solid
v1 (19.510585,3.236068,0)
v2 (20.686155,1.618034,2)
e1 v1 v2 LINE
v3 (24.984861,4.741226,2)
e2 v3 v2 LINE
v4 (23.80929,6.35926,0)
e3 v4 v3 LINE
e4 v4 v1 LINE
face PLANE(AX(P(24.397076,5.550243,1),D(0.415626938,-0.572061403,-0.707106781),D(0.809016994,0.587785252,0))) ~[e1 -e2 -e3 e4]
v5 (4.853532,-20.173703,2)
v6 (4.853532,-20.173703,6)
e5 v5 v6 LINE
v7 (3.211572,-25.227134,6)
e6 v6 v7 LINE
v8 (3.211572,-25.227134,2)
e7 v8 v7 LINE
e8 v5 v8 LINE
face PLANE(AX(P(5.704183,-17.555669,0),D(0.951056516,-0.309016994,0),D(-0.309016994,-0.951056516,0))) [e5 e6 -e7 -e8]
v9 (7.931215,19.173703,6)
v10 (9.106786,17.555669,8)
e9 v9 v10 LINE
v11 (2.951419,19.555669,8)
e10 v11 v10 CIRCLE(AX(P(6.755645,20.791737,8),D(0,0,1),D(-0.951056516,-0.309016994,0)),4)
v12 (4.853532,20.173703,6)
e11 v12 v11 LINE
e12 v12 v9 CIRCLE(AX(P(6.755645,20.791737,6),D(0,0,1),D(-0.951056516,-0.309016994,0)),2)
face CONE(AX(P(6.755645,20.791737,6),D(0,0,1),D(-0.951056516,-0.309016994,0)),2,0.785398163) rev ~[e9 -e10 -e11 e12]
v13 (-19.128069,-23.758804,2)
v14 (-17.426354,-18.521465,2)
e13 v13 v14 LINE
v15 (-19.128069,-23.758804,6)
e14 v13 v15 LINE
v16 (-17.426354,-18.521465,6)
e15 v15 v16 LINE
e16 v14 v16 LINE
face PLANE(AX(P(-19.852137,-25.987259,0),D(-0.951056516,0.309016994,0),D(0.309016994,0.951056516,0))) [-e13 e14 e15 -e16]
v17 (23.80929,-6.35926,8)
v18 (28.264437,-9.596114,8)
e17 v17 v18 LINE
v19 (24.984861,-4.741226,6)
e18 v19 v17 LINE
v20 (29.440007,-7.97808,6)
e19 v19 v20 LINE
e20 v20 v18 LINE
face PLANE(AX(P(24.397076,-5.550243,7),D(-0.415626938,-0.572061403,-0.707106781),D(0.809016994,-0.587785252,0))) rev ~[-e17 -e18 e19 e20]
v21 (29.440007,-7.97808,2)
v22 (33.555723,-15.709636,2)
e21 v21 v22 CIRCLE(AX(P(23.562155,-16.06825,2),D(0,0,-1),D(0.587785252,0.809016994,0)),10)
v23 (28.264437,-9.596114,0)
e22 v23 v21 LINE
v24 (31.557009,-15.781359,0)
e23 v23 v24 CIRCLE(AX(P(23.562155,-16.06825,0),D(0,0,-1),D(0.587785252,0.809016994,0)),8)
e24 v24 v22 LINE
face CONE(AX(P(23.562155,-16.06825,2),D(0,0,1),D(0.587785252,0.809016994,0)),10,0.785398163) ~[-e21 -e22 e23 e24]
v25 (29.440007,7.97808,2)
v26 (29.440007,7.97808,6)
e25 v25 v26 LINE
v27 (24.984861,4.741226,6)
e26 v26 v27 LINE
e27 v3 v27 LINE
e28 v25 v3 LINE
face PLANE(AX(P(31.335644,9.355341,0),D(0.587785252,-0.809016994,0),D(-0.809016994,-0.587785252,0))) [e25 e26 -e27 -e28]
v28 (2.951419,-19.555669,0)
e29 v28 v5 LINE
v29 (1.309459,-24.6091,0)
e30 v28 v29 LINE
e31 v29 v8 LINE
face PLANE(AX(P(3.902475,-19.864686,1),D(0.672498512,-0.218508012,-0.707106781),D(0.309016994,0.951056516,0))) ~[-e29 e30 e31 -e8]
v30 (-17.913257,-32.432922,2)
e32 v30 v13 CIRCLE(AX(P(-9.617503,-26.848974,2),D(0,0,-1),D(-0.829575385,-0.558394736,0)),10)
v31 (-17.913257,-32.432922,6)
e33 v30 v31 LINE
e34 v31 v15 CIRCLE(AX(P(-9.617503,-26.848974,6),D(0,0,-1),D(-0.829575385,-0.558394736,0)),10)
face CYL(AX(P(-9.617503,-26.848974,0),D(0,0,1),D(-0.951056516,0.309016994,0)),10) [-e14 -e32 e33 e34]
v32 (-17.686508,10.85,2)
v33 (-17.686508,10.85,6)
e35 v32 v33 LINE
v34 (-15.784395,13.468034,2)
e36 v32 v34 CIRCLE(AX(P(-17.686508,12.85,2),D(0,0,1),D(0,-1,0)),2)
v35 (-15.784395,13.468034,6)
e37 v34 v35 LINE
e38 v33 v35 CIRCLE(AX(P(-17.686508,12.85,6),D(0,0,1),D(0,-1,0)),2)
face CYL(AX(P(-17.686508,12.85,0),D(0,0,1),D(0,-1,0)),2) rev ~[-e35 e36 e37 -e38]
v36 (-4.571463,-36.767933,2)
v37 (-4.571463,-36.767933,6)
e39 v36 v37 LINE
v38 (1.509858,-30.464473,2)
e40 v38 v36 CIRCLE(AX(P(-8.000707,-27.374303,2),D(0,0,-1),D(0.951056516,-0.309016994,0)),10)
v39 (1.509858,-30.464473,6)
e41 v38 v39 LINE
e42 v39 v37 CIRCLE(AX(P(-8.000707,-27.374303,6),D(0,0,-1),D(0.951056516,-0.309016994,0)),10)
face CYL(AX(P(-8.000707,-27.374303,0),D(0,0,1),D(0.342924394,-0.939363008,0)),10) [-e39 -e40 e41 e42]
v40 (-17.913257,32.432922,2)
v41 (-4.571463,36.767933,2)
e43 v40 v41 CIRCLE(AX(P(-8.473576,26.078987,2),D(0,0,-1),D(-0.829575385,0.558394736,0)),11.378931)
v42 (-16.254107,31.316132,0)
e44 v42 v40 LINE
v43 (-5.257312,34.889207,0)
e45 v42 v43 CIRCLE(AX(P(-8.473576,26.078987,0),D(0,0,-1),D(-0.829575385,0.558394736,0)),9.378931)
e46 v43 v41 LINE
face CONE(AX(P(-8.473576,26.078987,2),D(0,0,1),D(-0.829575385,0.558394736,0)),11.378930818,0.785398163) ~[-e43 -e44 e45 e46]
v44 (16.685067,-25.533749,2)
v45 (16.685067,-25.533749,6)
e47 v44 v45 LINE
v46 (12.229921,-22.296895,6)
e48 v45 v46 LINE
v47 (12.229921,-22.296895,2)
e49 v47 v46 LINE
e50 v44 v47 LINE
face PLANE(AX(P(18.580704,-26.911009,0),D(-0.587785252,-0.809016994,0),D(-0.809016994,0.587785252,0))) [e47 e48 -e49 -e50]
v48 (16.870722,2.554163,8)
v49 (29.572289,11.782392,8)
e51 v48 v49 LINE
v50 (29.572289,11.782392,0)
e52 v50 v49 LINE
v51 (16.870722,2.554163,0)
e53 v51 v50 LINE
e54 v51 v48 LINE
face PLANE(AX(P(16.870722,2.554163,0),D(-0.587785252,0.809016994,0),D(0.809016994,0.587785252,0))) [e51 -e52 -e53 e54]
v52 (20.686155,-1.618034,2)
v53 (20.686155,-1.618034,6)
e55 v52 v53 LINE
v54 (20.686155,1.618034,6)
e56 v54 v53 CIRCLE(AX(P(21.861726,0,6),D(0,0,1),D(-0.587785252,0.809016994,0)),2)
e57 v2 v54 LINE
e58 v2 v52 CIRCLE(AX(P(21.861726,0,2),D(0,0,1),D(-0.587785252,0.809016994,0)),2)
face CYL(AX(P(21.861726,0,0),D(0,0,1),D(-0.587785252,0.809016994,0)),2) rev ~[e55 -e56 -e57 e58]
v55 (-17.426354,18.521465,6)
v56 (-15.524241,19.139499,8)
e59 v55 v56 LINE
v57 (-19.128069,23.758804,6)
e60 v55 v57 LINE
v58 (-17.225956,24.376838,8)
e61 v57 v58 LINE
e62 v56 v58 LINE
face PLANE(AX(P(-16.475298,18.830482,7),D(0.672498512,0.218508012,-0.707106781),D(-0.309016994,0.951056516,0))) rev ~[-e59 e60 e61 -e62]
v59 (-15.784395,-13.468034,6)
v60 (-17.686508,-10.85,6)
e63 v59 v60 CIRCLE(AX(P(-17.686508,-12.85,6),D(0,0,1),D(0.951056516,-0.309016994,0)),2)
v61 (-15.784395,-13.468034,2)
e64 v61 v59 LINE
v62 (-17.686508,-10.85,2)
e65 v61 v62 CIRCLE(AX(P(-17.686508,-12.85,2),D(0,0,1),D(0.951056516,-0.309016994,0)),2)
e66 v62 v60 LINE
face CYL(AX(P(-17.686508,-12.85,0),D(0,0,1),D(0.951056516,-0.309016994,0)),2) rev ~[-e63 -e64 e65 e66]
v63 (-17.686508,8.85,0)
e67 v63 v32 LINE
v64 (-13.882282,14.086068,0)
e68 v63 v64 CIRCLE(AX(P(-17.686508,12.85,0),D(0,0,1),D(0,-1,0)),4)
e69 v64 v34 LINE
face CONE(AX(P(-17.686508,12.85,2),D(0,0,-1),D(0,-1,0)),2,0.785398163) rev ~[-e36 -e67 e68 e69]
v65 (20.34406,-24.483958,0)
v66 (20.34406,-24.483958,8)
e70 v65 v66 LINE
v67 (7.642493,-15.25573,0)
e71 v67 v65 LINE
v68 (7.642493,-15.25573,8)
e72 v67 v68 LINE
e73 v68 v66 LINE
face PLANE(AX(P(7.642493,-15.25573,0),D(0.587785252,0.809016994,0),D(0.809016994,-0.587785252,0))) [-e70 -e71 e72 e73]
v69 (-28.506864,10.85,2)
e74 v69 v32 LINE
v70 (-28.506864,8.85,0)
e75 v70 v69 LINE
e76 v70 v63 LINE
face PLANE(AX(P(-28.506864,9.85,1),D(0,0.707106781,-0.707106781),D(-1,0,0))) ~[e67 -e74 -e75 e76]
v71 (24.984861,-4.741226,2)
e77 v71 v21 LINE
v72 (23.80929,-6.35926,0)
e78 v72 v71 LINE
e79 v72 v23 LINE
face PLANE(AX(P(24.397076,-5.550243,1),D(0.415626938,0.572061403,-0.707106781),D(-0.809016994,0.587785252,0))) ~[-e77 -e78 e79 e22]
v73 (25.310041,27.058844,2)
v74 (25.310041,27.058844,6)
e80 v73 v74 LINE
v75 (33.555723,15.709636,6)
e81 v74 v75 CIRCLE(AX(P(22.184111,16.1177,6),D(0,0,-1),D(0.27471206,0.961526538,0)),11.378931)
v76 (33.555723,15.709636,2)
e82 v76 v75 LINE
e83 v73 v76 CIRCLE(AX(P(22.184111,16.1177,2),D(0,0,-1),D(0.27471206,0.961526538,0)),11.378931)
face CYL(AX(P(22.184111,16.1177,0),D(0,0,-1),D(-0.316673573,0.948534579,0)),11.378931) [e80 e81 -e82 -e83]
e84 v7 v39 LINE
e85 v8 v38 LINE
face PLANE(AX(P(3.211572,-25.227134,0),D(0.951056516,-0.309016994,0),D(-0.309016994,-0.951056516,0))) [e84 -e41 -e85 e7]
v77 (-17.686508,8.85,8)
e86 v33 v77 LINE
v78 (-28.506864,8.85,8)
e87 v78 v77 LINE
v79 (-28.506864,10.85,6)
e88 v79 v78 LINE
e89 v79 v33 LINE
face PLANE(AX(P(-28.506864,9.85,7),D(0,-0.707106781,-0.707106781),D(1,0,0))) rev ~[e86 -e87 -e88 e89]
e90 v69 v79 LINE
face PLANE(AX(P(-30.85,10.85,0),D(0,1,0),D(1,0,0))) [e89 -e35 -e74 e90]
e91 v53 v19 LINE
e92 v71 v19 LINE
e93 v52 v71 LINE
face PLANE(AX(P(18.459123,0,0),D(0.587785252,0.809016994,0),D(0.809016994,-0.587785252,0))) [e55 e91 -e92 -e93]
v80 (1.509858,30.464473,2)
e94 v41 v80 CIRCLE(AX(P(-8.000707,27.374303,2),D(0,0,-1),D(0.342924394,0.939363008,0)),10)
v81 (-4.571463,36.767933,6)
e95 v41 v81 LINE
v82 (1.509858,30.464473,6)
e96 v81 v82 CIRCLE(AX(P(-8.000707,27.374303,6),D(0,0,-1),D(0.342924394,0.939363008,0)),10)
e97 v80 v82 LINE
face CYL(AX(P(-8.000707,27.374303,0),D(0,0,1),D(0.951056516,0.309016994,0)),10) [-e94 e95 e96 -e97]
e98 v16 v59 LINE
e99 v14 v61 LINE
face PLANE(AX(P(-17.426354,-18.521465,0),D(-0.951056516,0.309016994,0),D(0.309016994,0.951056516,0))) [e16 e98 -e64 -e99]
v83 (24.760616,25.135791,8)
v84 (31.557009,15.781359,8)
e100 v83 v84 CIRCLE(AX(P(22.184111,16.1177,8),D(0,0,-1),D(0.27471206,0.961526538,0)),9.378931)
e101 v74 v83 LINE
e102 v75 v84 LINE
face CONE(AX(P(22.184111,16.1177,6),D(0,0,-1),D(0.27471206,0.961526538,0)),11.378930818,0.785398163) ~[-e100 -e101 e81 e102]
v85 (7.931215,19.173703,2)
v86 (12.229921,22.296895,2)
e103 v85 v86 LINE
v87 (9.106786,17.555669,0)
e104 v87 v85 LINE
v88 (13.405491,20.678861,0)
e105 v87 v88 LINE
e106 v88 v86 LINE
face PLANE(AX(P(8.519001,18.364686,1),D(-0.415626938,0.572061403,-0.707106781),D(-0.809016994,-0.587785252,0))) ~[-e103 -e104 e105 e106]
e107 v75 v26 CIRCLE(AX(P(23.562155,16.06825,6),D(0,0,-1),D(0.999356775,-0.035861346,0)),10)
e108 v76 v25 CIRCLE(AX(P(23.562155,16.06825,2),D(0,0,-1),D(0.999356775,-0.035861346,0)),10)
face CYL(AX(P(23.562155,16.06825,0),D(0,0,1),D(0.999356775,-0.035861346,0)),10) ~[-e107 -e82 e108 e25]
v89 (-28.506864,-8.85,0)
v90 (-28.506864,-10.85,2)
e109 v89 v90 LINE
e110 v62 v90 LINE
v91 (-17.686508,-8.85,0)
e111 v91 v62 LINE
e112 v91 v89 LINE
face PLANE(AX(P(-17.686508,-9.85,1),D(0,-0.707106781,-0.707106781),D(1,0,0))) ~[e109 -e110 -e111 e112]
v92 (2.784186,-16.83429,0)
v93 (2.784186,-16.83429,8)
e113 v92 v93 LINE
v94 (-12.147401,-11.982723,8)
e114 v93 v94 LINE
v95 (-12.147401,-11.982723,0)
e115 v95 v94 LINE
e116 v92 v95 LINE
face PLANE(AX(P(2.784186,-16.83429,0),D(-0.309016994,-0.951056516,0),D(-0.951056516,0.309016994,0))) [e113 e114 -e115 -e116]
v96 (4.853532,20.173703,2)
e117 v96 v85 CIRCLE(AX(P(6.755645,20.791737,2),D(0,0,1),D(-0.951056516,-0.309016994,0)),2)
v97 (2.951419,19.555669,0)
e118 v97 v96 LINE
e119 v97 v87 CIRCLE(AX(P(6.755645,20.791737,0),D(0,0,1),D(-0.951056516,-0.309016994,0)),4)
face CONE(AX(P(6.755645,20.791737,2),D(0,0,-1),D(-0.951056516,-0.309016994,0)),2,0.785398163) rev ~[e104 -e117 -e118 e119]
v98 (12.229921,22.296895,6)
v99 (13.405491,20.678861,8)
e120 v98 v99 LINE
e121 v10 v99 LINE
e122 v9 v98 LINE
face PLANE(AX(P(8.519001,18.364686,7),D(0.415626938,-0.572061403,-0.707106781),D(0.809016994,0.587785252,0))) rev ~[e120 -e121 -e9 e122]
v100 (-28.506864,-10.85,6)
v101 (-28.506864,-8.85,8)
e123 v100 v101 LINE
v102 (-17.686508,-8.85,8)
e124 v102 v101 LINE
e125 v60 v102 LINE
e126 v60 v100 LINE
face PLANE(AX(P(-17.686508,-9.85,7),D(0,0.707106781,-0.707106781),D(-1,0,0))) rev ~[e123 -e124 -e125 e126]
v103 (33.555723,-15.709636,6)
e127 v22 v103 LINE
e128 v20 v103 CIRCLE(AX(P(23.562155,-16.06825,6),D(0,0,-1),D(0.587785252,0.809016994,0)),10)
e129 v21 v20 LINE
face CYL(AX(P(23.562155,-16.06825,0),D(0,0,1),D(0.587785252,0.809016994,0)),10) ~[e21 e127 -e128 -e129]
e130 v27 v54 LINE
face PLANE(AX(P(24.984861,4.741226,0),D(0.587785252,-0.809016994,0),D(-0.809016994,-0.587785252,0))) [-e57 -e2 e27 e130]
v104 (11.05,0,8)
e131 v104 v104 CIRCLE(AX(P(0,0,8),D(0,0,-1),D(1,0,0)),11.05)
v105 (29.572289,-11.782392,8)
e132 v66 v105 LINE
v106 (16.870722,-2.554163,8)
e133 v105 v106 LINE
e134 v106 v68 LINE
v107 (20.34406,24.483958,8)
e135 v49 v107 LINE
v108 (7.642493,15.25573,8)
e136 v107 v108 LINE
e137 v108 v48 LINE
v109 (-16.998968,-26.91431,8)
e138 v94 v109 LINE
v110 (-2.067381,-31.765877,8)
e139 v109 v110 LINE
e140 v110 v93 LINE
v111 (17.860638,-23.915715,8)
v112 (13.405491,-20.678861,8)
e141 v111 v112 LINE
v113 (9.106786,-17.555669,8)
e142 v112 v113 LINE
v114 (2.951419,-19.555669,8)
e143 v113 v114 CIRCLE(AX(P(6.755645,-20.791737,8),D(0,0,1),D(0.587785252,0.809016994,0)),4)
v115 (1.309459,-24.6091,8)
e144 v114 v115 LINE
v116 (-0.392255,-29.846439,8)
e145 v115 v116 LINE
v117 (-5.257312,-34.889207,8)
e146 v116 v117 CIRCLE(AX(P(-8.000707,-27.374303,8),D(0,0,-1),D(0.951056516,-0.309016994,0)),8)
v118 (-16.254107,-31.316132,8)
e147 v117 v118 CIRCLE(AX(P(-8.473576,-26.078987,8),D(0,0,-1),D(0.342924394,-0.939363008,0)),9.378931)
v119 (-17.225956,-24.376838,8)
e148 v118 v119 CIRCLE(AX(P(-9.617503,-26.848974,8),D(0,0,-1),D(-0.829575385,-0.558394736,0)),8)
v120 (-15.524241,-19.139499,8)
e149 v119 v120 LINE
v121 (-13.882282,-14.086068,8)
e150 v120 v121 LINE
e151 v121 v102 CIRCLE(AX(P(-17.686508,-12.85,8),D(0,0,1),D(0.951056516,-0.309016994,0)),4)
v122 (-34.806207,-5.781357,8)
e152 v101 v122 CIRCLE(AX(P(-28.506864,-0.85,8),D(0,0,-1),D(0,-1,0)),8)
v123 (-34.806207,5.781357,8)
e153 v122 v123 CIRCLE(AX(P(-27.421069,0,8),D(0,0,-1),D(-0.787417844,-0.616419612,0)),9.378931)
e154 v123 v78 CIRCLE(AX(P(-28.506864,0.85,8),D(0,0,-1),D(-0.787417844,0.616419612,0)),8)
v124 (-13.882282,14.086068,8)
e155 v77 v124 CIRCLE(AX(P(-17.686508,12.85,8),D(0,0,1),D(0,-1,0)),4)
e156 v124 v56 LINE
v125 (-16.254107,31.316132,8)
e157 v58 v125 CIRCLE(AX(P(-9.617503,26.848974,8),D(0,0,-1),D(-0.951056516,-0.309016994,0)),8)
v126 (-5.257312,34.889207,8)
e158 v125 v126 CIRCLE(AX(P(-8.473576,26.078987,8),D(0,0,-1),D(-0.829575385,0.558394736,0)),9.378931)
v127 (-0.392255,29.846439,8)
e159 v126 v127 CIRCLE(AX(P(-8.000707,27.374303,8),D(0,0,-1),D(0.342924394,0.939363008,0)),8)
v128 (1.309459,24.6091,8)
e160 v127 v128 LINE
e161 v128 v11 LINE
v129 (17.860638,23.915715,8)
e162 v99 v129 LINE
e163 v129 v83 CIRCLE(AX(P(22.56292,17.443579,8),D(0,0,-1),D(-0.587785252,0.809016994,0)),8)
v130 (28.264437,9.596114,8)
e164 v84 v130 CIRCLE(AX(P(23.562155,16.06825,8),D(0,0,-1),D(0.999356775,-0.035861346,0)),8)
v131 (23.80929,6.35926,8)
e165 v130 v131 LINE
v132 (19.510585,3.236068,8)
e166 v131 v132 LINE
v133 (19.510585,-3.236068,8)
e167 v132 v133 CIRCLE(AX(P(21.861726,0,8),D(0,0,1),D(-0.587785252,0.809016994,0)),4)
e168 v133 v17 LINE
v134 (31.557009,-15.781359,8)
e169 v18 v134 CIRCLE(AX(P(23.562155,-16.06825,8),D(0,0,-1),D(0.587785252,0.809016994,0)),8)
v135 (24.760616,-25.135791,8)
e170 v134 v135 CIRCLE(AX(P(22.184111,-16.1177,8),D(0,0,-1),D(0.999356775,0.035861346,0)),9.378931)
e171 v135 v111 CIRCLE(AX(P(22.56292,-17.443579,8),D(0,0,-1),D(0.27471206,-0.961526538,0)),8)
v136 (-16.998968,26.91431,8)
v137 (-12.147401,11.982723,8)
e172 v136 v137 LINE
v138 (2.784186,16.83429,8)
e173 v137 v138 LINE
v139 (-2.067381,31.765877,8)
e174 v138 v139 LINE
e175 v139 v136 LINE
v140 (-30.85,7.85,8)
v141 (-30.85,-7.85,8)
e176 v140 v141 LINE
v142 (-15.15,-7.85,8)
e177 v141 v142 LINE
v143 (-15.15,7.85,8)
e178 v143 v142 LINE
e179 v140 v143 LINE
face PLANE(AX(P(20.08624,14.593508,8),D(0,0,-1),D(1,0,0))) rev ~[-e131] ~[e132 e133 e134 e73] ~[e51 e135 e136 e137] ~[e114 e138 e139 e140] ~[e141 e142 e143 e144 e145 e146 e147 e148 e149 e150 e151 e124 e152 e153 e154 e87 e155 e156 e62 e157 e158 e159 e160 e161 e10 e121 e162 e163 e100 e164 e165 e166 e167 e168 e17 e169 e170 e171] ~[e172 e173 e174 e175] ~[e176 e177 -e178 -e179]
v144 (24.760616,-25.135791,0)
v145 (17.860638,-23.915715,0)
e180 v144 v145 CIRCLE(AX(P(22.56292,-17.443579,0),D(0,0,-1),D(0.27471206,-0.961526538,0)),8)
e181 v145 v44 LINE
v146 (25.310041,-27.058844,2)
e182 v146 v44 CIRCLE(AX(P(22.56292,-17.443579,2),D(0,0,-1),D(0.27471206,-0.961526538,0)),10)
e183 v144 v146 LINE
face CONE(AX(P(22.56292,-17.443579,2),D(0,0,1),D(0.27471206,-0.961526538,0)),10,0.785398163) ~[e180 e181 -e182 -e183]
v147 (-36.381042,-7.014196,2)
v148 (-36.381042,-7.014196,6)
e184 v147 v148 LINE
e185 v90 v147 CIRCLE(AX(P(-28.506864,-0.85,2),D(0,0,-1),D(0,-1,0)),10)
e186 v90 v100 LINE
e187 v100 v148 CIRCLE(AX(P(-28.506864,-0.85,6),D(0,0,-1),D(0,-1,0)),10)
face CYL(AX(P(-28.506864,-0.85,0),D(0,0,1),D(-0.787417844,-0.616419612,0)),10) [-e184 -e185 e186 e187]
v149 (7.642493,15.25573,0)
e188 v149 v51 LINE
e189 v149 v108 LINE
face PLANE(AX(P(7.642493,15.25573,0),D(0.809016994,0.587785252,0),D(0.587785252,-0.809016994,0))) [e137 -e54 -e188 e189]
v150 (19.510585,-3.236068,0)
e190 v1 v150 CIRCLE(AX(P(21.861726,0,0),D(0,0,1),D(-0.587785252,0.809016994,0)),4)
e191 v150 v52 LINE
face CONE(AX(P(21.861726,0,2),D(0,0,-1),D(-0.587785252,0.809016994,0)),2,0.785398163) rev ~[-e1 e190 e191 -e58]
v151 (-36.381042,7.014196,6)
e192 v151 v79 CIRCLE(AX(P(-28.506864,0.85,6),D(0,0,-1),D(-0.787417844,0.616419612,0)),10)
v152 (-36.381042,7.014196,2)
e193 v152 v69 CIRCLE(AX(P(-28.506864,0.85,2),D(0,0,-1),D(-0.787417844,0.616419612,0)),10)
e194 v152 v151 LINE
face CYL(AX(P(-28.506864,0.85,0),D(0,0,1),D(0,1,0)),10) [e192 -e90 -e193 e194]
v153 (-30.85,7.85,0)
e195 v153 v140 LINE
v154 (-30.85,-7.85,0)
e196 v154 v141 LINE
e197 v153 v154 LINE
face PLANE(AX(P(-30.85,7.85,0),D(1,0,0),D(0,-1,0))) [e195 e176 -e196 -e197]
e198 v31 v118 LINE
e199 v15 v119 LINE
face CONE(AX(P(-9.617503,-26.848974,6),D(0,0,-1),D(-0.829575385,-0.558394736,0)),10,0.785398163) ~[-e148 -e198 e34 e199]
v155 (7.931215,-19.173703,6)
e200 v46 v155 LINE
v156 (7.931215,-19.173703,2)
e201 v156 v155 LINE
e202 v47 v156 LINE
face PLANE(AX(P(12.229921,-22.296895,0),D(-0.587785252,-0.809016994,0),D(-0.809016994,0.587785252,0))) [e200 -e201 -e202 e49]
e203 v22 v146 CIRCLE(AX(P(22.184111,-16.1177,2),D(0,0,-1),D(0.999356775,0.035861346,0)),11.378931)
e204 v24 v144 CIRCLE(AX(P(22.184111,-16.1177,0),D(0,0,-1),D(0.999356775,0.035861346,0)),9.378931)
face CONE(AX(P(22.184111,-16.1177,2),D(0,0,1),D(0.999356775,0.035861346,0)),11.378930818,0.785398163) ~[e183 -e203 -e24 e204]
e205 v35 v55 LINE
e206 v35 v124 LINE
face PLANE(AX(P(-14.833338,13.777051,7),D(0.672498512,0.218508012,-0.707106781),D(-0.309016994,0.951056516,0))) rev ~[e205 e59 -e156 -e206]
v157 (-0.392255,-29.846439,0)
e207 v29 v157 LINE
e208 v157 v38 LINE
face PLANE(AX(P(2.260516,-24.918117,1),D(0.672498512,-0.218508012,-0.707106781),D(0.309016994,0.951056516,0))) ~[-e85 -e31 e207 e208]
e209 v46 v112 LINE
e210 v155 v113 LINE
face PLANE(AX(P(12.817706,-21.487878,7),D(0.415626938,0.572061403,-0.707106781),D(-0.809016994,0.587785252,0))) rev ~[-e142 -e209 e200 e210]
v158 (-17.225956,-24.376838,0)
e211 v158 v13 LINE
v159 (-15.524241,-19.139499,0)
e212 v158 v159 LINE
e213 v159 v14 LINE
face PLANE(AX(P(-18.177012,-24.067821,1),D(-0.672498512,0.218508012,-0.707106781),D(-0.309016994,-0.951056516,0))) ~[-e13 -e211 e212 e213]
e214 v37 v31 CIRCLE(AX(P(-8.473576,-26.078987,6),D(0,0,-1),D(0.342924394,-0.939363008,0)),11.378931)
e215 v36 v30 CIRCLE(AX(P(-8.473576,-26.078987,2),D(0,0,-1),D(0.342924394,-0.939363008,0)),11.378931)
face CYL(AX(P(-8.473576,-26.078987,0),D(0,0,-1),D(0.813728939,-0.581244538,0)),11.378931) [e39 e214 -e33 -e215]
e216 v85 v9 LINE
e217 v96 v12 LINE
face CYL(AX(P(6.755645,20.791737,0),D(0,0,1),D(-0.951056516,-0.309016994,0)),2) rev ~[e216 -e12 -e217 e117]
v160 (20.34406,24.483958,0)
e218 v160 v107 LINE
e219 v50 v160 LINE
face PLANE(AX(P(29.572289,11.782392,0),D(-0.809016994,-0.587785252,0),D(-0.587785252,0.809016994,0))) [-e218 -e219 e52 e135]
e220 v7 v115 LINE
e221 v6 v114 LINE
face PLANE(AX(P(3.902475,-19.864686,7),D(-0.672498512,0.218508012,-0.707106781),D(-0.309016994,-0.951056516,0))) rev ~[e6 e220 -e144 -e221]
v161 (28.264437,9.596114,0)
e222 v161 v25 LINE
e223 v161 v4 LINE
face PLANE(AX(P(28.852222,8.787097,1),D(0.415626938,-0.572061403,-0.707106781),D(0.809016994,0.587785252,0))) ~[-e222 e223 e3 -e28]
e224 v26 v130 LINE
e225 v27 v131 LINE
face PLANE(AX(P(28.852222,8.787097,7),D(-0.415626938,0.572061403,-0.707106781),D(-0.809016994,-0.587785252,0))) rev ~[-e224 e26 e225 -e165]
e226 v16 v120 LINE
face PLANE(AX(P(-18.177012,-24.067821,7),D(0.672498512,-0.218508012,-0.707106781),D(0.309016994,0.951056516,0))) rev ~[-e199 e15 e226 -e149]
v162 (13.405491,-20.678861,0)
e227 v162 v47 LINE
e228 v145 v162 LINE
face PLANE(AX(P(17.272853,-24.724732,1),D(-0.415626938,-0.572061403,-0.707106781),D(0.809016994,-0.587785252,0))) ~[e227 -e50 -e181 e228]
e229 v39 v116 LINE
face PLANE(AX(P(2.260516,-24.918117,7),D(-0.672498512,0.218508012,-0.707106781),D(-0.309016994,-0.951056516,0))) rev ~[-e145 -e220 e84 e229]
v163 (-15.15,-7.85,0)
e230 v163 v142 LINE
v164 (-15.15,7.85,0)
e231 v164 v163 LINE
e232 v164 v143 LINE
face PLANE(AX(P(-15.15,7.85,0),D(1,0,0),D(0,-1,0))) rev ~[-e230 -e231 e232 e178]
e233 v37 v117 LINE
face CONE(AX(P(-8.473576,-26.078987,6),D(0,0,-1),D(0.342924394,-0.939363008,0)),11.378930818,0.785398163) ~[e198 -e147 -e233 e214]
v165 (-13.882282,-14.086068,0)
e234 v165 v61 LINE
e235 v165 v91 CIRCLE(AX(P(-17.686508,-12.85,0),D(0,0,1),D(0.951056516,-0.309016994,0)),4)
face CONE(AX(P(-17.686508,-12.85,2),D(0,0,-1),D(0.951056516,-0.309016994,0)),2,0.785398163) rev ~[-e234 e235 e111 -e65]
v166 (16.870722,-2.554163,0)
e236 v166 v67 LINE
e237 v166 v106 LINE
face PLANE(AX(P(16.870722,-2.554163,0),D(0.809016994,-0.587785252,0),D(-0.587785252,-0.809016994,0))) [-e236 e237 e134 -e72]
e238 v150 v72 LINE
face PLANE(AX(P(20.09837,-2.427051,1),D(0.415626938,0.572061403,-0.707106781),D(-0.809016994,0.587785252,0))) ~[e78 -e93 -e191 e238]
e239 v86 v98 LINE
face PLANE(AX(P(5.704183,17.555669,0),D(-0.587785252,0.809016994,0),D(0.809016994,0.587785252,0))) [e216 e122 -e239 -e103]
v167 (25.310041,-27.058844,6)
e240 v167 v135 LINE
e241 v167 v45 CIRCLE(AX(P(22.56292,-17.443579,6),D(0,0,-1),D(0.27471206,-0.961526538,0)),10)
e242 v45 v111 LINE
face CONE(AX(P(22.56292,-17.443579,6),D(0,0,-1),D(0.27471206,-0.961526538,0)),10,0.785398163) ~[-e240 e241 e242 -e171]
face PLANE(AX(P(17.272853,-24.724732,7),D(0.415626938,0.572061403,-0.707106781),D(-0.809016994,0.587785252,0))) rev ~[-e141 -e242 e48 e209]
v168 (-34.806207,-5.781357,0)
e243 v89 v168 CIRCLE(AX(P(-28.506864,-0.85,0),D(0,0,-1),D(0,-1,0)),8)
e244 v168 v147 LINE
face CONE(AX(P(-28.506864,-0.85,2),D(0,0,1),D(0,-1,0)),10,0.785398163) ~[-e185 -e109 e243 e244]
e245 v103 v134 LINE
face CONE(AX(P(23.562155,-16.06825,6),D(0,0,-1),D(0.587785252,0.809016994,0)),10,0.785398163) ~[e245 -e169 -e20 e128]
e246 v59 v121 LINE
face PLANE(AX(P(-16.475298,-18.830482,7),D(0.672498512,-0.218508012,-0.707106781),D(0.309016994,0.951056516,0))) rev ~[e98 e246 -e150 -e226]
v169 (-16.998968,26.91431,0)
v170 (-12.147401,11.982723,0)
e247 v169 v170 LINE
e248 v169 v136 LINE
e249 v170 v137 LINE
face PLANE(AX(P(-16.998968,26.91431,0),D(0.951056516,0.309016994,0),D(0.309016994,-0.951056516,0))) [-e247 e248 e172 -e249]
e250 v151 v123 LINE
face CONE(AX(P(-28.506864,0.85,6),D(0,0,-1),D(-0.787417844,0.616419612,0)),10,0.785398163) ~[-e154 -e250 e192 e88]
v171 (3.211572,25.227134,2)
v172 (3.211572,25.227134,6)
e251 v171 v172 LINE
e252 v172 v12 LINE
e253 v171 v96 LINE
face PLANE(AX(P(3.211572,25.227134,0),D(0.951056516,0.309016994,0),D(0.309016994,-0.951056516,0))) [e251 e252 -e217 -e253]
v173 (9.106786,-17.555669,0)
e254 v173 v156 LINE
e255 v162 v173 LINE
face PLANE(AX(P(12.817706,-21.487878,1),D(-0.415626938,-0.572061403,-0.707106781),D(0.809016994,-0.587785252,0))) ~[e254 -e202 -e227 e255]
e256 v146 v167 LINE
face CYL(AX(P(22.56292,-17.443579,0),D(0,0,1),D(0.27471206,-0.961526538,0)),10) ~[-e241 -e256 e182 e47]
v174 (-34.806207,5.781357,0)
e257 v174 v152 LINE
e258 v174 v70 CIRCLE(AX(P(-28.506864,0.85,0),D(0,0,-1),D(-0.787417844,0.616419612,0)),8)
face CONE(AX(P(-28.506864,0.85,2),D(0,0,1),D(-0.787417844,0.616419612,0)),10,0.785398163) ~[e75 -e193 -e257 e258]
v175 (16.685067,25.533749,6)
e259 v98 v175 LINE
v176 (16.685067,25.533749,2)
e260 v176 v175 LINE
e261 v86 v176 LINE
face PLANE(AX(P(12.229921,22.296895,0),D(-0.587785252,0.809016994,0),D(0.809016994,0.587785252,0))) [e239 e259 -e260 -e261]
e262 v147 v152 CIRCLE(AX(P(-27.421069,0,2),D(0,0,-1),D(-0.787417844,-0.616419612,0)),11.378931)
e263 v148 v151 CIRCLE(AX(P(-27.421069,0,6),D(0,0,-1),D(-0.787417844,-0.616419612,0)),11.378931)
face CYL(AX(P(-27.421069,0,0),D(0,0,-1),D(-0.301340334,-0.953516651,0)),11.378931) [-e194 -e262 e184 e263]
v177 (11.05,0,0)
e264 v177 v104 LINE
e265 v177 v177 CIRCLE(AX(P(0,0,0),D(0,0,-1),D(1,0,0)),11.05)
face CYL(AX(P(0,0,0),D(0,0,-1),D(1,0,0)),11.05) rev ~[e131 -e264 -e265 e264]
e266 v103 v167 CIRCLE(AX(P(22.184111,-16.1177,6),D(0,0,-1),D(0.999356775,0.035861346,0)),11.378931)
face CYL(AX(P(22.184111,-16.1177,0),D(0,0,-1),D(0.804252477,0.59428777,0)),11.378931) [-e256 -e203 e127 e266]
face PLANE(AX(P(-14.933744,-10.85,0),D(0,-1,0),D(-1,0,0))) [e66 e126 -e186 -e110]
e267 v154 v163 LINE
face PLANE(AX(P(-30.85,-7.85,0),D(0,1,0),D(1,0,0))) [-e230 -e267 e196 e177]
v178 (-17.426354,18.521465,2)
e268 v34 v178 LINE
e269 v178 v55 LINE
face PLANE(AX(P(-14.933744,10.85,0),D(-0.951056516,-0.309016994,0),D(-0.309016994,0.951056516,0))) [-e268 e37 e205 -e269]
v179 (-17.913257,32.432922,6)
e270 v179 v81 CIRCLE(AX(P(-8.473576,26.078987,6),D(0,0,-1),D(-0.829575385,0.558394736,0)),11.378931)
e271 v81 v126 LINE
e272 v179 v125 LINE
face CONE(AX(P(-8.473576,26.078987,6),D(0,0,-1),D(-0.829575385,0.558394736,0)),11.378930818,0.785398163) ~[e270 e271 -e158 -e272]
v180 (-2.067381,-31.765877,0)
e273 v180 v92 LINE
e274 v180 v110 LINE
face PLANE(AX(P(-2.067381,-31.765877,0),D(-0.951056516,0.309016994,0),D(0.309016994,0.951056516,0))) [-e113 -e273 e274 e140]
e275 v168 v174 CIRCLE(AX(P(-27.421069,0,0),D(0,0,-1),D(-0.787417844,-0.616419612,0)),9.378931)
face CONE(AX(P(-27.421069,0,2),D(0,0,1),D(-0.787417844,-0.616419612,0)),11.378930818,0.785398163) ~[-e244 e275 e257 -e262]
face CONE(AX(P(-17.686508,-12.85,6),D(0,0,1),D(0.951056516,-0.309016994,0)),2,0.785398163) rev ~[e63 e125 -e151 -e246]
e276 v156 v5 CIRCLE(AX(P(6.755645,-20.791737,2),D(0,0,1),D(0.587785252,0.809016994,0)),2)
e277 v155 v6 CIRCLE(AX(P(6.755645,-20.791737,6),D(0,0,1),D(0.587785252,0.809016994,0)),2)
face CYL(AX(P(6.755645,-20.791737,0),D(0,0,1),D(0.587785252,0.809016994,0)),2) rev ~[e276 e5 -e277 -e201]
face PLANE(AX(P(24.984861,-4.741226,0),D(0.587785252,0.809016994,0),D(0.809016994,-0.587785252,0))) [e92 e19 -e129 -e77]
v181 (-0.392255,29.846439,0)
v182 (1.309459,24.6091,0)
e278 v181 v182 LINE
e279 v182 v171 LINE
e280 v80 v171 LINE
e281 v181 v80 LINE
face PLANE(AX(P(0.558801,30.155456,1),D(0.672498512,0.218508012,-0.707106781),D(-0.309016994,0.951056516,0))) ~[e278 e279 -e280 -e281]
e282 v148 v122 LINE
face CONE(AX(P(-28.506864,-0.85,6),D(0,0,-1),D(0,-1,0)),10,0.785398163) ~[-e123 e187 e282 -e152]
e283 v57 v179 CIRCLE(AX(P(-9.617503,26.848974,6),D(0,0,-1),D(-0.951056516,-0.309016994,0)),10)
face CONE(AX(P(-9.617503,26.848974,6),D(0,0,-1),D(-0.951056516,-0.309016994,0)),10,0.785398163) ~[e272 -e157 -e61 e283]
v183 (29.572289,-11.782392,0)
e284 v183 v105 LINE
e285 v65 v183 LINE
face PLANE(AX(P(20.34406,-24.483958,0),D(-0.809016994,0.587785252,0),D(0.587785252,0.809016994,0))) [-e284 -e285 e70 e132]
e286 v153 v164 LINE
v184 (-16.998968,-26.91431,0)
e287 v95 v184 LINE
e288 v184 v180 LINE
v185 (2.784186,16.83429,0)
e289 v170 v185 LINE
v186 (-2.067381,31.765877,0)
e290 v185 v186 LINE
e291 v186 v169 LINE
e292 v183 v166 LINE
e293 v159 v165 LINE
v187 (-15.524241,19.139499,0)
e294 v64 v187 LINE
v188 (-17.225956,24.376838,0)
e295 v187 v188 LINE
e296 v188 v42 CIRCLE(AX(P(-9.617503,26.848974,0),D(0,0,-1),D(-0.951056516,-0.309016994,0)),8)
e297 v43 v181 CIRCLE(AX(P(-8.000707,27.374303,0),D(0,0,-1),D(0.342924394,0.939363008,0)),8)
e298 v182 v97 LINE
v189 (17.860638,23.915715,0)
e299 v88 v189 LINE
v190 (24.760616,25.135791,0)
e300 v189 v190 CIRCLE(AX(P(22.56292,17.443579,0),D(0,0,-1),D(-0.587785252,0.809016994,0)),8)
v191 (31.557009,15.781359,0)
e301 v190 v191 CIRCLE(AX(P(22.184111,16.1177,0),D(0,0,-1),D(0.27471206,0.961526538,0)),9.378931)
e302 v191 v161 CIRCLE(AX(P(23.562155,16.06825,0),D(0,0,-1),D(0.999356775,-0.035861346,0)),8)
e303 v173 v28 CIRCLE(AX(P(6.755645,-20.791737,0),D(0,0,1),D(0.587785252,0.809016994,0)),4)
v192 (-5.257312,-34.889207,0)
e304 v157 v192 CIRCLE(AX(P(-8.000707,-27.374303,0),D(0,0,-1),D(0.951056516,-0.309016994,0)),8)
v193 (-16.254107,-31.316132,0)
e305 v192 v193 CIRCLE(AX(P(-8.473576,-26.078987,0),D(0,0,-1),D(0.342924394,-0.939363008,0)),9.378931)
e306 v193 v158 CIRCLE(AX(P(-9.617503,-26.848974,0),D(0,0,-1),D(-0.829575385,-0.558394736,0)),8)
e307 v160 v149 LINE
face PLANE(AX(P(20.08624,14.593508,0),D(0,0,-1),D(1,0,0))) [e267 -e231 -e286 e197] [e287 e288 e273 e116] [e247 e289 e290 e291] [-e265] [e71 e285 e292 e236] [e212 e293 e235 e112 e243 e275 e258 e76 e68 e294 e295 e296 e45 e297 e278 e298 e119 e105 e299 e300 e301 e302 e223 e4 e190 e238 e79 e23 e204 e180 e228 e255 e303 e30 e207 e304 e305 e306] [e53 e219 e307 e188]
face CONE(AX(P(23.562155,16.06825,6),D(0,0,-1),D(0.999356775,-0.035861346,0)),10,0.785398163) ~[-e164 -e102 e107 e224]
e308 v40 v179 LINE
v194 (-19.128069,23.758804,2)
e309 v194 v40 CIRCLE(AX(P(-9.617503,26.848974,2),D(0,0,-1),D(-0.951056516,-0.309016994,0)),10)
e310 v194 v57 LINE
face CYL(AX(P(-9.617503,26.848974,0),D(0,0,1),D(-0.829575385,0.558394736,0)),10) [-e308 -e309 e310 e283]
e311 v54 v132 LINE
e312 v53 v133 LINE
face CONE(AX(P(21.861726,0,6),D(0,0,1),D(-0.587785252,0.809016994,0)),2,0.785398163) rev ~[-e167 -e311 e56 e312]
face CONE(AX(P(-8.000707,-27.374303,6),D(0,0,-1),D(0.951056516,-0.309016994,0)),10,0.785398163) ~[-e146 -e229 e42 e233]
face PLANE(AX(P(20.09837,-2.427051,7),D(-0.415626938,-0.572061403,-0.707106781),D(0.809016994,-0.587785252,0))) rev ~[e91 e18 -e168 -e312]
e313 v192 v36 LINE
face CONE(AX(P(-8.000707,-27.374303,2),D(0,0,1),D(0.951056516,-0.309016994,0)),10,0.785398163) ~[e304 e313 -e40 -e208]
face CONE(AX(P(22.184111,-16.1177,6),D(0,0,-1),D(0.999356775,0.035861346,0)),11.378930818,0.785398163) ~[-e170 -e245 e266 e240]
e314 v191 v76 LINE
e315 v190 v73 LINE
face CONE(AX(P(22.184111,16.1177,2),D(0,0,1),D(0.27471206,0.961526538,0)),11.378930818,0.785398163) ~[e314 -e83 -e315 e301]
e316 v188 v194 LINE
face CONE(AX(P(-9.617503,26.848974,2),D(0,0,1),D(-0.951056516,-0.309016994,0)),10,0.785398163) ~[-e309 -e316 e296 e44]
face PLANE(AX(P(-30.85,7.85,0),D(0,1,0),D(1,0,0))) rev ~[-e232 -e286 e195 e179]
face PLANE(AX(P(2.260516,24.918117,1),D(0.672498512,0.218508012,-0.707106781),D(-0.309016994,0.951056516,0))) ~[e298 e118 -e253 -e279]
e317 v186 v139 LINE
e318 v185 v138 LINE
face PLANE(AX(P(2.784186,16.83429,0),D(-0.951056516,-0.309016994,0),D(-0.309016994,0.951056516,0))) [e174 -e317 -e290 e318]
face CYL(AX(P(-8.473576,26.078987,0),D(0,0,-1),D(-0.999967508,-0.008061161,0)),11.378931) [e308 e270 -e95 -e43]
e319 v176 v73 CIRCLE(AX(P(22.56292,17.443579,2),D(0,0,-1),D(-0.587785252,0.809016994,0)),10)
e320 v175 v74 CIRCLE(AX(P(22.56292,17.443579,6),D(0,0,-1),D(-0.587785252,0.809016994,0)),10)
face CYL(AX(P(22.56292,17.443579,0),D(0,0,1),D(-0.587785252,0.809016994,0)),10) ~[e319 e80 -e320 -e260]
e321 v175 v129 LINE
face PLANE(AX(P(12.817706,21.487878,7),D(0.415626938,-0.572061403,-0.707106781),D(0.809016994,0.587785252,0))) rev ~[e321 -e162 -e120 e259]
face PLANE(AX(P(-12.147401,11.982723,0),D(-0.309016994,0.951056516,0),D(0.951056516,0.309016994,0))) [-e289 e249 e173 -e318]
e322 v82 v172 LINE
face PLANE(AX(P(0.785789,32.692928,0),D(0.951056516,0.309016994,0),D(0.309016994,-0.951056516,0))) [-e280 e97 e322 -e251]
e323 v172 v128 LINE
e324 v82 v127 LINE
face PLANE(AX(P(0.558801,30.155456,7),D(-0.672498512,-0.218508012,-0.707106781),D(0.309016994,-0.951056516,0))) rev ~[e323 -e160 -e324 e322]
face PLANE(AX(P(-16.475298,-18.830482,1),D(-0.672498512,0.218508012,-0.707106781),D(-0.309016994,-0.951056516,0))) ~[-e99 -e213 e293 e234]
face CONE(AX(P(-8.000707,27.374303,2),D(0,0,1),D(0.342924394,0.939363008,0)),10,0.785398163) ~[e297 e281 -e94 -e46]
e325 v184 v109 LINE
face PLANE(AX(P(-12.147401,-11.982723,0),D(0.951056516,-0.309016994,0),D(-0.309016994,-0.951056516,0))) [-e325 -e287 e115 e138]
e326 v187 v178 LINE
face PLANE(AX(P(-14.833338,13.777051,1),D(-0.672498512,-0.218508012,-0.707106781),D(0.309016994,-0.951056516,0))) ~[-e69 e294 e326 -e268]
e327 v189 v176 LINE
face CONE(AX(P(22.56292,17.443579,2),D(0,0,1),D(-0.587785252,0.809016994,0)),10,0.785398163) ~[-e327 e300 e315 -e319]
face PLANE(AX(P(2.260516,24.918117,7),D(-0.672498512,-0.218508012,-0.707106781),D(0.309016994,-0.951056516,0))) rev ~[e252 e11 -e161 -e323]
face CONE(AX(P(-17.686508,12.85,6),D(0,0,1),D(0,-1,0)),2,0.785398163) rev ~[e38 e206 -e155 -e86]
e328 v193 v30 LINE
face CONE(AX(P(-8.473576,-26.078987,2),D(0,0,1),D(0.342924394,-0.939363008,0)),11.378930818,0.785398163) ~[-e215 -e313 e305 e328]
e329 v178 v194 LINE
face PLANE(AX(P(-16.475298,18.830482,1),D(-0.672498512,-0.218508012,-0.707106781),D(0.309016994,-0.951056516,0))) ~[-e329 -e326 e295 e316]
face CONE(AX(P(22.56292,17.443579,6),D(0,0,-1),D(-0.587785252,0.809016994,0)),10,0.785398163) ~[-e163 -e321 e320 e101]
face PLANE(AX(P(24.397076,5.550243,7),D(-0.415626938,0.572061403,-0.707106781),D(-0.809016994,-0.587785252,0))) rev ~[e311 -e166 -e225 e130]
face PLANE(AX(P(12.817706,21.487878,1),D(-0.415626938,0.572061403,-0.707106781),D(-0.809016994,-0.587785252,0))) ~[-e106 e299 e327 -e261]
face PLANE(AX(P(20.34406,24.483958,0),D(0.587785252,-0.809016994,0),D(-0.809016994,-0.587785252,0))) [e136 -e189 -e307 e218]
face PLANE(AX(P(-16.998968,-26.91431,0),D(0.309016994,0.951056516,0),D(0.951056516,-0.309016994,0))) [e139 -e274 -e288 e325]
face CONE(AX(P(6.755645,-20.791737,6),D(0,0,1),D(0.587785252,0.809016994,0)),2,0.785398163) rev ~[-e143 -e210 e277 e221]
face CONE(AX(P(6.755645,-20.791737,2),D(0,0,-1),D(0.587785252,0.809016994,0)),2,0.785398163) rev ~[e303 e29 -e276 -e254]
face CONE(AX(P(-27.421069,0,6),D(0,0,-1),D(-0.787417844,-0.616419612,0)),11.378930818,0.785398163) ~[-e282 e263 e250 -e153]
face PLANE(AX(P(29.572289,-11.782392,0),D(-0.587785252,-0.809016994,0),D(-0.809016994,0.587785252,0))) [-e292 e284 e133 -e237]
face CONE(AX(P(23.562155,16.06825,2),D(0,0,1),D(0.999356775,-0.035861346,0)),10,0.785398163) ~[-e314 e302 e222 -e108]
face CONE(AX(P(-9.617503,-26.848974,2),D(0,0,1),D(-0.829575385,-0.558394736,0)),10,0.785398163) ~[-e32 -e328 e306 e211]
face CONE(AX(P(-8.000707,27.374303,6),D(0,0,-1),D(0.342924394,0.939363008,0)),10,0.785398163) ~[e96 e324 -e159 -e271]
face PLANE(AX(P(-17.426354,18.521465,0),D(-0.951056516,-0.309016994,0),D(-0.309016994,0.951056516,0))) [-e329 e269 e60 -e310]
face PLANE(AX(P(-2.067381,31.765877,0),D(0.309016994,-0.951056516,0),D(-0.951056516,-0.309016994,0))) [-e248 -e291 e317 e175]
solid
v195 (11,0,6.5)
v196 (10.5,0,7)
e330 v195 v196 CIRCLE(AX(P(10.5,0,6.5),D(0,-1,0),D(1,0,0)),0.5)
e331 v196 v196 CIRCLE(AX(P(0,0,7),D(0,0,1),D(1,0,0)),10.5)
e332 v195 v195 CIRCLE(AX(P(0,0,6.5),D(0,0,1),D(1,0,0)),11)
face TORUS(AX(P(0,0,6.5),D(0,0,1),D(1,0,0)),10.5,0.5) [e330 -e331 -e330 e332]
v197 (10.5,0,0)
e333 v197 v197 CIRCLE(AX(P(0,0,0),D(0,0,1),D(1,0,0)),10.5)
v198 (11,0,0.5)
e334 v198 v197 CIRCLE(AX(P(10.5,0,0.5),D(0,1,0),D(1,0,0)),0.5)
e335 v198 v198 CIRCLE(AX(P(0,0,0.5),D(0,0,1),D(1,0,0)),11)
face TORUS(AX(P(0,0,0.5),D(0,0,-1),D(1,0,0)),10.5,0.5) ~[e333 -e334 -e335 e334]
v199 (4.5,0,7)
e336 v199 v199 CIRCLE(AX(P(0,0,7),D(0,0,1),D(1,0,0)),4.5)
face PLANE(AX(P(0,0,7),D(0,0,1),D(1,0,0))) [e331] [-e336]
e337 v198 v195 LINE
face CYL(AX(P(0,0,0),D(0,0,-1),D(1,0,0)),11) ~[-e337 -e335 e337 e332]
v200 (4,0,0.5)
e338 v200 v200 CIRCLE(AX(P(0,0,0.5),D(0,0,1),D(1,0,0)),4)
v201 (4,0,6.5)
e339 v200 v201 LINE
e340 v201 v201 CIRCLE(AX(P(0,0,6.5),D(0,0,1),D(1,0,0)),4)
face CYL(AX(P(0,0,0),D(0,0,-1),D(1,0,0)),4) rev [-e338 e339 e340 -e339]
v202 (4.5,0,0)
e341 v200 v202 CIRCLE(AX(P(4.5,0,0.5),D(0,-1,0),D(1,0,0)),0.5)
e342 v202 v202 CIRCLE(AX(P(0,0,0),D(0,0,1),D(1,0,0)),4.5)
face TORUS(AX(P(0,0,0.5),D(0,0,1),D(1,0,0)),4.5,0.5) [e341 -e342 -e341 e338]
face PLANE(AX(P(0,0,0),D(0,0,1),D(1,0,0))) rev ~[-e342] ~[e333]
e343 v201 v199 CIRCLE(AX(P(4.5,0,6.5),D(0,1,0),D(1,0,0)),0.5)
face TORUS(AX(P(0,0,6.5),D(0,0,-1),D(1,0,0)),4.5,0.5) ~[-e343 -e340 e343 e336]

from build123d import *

# Parameters (mm, degrees)
F0_R     = 11
F0_R_2   = 4
F1_DEPTH = 7
F3_R     = 0.5
F2_W     = 15.7
F2_H     = 15.7
F2_R     = 11.05
F4_DEPTH = 8
F5_R     = 2
F6_R     = 10
F7_SIZE  = 2


with BuildPart() as f1:
    # F0 (on Top) → F1 (new body)
    with BuildSketch(Plane.XY):
        Circle(F0_R)
        Circle(F0_R_2, mode=Mode.SUBTRACT)
    extrude(amount=F1_DEPTH)

    # F3
    f3_edges = [f1.edges().sort_by_distance(p)[0] for p in [
        (-11, 0, 7),
        (-11, 0, 0),
        (-4, 0, 7),
        (-4, 0, 0),
    ]]
    fillet(f3_edges, radius=F3_R)


with BuildPart() as f4:
    # F2 (on face) → F4 (new body)
    with BuildSketch(Plane(origin=(0, 0, 0), x_dir=(1, 0, 0), z_dir=(0, 0, -1))):
        with BuildLine():
            Line((18.4591225412, 0), (14.815327199, -2.6473722795))
            ThreePointArc((14.815327199, -2.6473722795), (12.1757057653, -8.846168047), (7.0959885392, -13.2721304489))
            Line((7.0959885392, -13.2721304489), (5.7041825665, -17.5556687779))
            Line((5.7041825665, -17.5556687779), (12.2299208833, -22.2968951917))
            Line((12.2299208833, -22.2968951917), (18.5807042891, -26.9110094222))
            ThreePointArc((18.5807042891, -26.9110094222), (31.3898593817, -22.8060677889), (31.3356442638, -9.3553406443))
            Line((31.3356442638, -9.3553406443), (24.984860858, -4.7412264138))
            Line((24.984860858, -4.7412264138), (18.4591225412, 0))
        make_face()
        Polygon((16.8707216953, -2.5541631664), (29.572288507, -11.7823916274), (20.344060046, -24.4839584391), (7.6424932343, -15.2557299781), align=None, mode=Mode.SUBTRACT)
        with BuildLine():
            Line((5.7041825665, -17.5556687779), (2.0603872243, -14.9082964985))
            ThreePointArc((2.0603872243, -14.9082964985), (-4.6507057653, -14.3134005702), (-10.429765098, -10.85))
            Line((-10.429765098, -10.85), (-14.9337438371, -10.85))
            Line((-14.9337438371, -10.85), (-17.4263540724, -18.5214654858))
            Line((-17.4263540724, -18.5214654858), (-19.8521374783, -25.9872591387))
            ThreePointArc((-19.8521374783, -25.9872591387), (-11.9898593817, -36.9009928323), (0.7857889253, -32.6929279167))
            Line((0.7857889253, -32.6929279167), (3.2115723312, -25.2271342638))
            Line((3.2115723312, -25.2271342638), (5.7041825665, -17.5556687779))
        make_face()
        Polygon((2.7841861881, -16.8342896277), (-2.0673806236, -31.7658769335), (-16.9989679294, -26.9143101219), (-12.1474011177, -11.982722816), align=None, mode=Mode.SUBTRACT)
        with BuildLine():
            ThreePointArc((-13.5419378644, -6.5664616709), (-15.05, 0), (-13.5419378644, 6.5664616709))
            Line((-13.5419378644, 6.5664616709), (-14.9337438371, 10.85))
            Line((-14.9337438371, 10.85), (-23, 10.85))
            Line((-23, 10.85), (-30.85, 10.85))
            ThreePointArc((-30.85, 10.85), (-38.8, 0), (-30.85, -10.85))
            Line((-30.85, -10.85), (-23, -10.85))
            Line((-23, -10.85), (-14.9337438371, -10.85))
            Line((-14.9337438371, -10.85), (-13.5419378644, -6.5664616709))
        make_face()
        with Locations((-23, 0)):
            Rectangle(F2_W, F2_H, mode=Mode.SUBTRACT)
        with BuildLine():
            ThreePointArc((-10.429765098, 10.85), (-4.6507057653, 14.3134005702), (2.0603872243, 14.9082964985))
            Line((2.0603872243, 14.9082964985), (5.7041825665, 17.5556687779))
            Line((5.7041825665, 17.5556687779), (3.2115723312, 25.2271342638))
            Line((3.2115723312, 25.2271342638), (0.7857889253, 32.6929279167))
            ThreePointArc((0.7857889253, 32.6929279167), (-11.9898593817, 36.9009928323), (-19.8521374783, 25.9872591387))
            Line((-19.8521374783, 25.9872591387), (-17.4263540724, 18.5214654858))
            Line((-17.4263540724, 18.5214654858), (-14.9337438371, 10.85))
            Line((-14.9337438371, 10.85), (-10.429765098, 10.85))
        make_face()
        Polygon((2.7841861881, 16.8342896277), (-12.1474011177, 11.982722816), (-16.9989679294, 26.9143101219), (-2.0673806236, 31.7658769335), align=None, mode=Mode.SUBTRACT)
        with BuildLine():
            ThreePointArc((-13.5419378644, 6.5664616709), (-12.1757057653, 8.846168047), (-10.429765098, 10.85))
            Line((-10.429765098, 10.85), (-14.9337438371, 10.85))
            Line((-14.9337438371, 10.85), (-13.5419378644, 6.5664616709))
        make_face()
        with BuildLine():
            ThreePointArc((7.0959885392, 13.2721304489), (12.1757057653, 8.846168047), (14.815327199, 2.6473722795))
            Line((14.815327199, 2.6473722795), (18.4591225412, 0))
            Line((18.4591225412, 0), (24.984860858, 4.7412264138))
            Line((24.984860858, 4.7412264138), (31.3356442638, 9.3553406443))
            ThreePointArc((31.3356442638, 9.3553406443), (31.3898593817, 22.8060677889), (18.5807042891, 26.9110094222))
            Line((18.5807042891, 26.9110094222), (12.2299208833, 22.2968951917))
            Line((12.2299208833, 22.2968951917), (5.7041825665, 17.5556687779))
            Line((5.7041825665, 17.5556687779), (7.0959885392, 13.2721304489))
        make_face()
        Polygon((16.8707216953, 2.5541631664), (7.6424932343, 15.2557299781), (20.344060046, 24.4839584391), (29.572288507, 11.7823916274), align=None, mode=Mode.SUBTRACT)
        with BuildLine():
            ThreePointArc((2.0603872243, 14.9082964985), (4.6507057653, 14.3134005702), (7.0959885392, 13.2721304489))
            Line((7.0959885392, 13.2721304489), (5.7041825665, 17.5556687779))
            Line((5.7041825665, 17.5556687779), (2.0603872243, 14.9082964985))
        make_face()
        with BuildLine():
            ThreePointArc((14.815327199, 2.6473722795), (14.9912170011, 1.3288765283), (15.05, 0))
            ThreePointArc((15.05, 0), (14.9912170011, -1.3288765283), (14.815327199, -2.6473722795))
            Line((14.815327199, -2.6473722795), (18.4591225412, 0))
            Line((18.4591225412, 0), (14.815327199, 2.6473722795))
        make_face()
        with BuildLine():
            Line((-14.9337438371, -10.85), (-10.429765098, -10.85))
            ThreePointArc((-10.429765098, -10.85), (-12.1757057653, -8.846168047), (-13.5419378644, -6.5664616709))
            Line((-13.5419378644, -6.5664616709), (-14.9337438371, -10.85))
        make_face()
        with BuildLine():
            ThreePointArc((14.815327199, -2.6473722795), (14.9912170011, -1.3288765283), (15.05, 0))
            ThreePointArc((15.05, 0), (14.9912170011, 1.3288765283), (14.815327199, 2.6473722795))
            ThreePointArc((14.815327199, 2.6473722795), (12.1757057653, 8.846168047), (7.0959885392, 13.2721304489))
            ThreePointArc((7.0959885392, 13.2721304489), (4.6507057653, 14.3134005702), (2.0603872243, 14.9082964985))
            ThreePointArc((2.0603872243, 14.9082964985), (-4.6507057653, 14.3134005702), (-10.429765098, 10.85))
            ThreePointArc((-10.429765098, 10.85), (-12.1757057653, 8.846168047), (-13.5419378644, 6.5664616709))
            ThreePointArc((-13.5419378644, 6.5664616709), (-15.05, 0), (-13.5419378644, -6.5664616709))
            ThreePointArc((-13.5419378644, -6.5664616709), (-12.1757057653, -8.846168047), (-10.429765098, -10.85))
            ThreePointArc((-10.429765098, -10.85), (-4.6507057653, -14.3134005702), (2.0603872243, -14.9082964985))
            ThreePointArc((2.0603872243, -14.9082964985), (4.6507057653, -14.3134005702), (7.0959885392, -13.2721304489))
            ThreePointArc((7.0959885392, -13.2721304489), (12.1757057653, -8.846168047), (14.815327199, -2.6473722795))
        make_face()
        Circle(F2_R, mode=Mode.SUBTRACT)
        with BuildLine():
            Line((5.7041825665, -17.5556687779), (7.0959885392, -13.2721304489))
            ThreePointArc((7.0959885392, -13.2721304489), (4.6507057653, -14.3134005702), (2.0603872243, -14.9082964985))
            Line((2.0603872243, -14.9082964985), (5.7041825665, -17.5556687779))
        make_face()
    extrude(amount=-F4_DEPTH)

    # F5
    f5_edges = [f4.edges().sort_by_distance(p)[0] for p in [
        (5.704183, 17.555669, 4),
        (18.459123, 0, 4),
        (-14.933744, -10.85, 4),
        (-14.933744, 10.85, 4),
        (5.704183, -17.555669, 4),
    ]]
    fillet(f5_edges, radius=F5_R)

    # F6
    f6_edges = [f4.edges().sort_by_distance(p)[0] for p in [
        (18.580704, 26.911009, 4),
        (31.335644, 9.355341, 4),
        (-30.85, -10.85, 4),
        (-30.85, 10.85, 4),
        (-19.852137, 25.987259, 4),
        (0.785789, 32.692928, 4),
        (-19.852137, -25.987259, 4),
        (0.785789, -32.692928, 4),
        (18.580704, -26.911009, 4),
        (31.335644, -9.355341, 4),
    ]]
    fillet(f6_edges, radius=F6_R)

    # F7
    f7_edges = [f4.edges().sort_by_distance(p)[0] for p in [
        (31.389859, 22.806068, 8),
        (-11.989859, 36.900993, 8),
        (-32.88625, -9.840049, 8),
        (31.389859, 22.806068, 0),
        (-38.8, 0, 0),
        (-11.989859, 36.900993, 0),
    ]]
    chamfer(f7_edges, length=F7_SIZE)


solid = Compound([f1.part, f4.part])
